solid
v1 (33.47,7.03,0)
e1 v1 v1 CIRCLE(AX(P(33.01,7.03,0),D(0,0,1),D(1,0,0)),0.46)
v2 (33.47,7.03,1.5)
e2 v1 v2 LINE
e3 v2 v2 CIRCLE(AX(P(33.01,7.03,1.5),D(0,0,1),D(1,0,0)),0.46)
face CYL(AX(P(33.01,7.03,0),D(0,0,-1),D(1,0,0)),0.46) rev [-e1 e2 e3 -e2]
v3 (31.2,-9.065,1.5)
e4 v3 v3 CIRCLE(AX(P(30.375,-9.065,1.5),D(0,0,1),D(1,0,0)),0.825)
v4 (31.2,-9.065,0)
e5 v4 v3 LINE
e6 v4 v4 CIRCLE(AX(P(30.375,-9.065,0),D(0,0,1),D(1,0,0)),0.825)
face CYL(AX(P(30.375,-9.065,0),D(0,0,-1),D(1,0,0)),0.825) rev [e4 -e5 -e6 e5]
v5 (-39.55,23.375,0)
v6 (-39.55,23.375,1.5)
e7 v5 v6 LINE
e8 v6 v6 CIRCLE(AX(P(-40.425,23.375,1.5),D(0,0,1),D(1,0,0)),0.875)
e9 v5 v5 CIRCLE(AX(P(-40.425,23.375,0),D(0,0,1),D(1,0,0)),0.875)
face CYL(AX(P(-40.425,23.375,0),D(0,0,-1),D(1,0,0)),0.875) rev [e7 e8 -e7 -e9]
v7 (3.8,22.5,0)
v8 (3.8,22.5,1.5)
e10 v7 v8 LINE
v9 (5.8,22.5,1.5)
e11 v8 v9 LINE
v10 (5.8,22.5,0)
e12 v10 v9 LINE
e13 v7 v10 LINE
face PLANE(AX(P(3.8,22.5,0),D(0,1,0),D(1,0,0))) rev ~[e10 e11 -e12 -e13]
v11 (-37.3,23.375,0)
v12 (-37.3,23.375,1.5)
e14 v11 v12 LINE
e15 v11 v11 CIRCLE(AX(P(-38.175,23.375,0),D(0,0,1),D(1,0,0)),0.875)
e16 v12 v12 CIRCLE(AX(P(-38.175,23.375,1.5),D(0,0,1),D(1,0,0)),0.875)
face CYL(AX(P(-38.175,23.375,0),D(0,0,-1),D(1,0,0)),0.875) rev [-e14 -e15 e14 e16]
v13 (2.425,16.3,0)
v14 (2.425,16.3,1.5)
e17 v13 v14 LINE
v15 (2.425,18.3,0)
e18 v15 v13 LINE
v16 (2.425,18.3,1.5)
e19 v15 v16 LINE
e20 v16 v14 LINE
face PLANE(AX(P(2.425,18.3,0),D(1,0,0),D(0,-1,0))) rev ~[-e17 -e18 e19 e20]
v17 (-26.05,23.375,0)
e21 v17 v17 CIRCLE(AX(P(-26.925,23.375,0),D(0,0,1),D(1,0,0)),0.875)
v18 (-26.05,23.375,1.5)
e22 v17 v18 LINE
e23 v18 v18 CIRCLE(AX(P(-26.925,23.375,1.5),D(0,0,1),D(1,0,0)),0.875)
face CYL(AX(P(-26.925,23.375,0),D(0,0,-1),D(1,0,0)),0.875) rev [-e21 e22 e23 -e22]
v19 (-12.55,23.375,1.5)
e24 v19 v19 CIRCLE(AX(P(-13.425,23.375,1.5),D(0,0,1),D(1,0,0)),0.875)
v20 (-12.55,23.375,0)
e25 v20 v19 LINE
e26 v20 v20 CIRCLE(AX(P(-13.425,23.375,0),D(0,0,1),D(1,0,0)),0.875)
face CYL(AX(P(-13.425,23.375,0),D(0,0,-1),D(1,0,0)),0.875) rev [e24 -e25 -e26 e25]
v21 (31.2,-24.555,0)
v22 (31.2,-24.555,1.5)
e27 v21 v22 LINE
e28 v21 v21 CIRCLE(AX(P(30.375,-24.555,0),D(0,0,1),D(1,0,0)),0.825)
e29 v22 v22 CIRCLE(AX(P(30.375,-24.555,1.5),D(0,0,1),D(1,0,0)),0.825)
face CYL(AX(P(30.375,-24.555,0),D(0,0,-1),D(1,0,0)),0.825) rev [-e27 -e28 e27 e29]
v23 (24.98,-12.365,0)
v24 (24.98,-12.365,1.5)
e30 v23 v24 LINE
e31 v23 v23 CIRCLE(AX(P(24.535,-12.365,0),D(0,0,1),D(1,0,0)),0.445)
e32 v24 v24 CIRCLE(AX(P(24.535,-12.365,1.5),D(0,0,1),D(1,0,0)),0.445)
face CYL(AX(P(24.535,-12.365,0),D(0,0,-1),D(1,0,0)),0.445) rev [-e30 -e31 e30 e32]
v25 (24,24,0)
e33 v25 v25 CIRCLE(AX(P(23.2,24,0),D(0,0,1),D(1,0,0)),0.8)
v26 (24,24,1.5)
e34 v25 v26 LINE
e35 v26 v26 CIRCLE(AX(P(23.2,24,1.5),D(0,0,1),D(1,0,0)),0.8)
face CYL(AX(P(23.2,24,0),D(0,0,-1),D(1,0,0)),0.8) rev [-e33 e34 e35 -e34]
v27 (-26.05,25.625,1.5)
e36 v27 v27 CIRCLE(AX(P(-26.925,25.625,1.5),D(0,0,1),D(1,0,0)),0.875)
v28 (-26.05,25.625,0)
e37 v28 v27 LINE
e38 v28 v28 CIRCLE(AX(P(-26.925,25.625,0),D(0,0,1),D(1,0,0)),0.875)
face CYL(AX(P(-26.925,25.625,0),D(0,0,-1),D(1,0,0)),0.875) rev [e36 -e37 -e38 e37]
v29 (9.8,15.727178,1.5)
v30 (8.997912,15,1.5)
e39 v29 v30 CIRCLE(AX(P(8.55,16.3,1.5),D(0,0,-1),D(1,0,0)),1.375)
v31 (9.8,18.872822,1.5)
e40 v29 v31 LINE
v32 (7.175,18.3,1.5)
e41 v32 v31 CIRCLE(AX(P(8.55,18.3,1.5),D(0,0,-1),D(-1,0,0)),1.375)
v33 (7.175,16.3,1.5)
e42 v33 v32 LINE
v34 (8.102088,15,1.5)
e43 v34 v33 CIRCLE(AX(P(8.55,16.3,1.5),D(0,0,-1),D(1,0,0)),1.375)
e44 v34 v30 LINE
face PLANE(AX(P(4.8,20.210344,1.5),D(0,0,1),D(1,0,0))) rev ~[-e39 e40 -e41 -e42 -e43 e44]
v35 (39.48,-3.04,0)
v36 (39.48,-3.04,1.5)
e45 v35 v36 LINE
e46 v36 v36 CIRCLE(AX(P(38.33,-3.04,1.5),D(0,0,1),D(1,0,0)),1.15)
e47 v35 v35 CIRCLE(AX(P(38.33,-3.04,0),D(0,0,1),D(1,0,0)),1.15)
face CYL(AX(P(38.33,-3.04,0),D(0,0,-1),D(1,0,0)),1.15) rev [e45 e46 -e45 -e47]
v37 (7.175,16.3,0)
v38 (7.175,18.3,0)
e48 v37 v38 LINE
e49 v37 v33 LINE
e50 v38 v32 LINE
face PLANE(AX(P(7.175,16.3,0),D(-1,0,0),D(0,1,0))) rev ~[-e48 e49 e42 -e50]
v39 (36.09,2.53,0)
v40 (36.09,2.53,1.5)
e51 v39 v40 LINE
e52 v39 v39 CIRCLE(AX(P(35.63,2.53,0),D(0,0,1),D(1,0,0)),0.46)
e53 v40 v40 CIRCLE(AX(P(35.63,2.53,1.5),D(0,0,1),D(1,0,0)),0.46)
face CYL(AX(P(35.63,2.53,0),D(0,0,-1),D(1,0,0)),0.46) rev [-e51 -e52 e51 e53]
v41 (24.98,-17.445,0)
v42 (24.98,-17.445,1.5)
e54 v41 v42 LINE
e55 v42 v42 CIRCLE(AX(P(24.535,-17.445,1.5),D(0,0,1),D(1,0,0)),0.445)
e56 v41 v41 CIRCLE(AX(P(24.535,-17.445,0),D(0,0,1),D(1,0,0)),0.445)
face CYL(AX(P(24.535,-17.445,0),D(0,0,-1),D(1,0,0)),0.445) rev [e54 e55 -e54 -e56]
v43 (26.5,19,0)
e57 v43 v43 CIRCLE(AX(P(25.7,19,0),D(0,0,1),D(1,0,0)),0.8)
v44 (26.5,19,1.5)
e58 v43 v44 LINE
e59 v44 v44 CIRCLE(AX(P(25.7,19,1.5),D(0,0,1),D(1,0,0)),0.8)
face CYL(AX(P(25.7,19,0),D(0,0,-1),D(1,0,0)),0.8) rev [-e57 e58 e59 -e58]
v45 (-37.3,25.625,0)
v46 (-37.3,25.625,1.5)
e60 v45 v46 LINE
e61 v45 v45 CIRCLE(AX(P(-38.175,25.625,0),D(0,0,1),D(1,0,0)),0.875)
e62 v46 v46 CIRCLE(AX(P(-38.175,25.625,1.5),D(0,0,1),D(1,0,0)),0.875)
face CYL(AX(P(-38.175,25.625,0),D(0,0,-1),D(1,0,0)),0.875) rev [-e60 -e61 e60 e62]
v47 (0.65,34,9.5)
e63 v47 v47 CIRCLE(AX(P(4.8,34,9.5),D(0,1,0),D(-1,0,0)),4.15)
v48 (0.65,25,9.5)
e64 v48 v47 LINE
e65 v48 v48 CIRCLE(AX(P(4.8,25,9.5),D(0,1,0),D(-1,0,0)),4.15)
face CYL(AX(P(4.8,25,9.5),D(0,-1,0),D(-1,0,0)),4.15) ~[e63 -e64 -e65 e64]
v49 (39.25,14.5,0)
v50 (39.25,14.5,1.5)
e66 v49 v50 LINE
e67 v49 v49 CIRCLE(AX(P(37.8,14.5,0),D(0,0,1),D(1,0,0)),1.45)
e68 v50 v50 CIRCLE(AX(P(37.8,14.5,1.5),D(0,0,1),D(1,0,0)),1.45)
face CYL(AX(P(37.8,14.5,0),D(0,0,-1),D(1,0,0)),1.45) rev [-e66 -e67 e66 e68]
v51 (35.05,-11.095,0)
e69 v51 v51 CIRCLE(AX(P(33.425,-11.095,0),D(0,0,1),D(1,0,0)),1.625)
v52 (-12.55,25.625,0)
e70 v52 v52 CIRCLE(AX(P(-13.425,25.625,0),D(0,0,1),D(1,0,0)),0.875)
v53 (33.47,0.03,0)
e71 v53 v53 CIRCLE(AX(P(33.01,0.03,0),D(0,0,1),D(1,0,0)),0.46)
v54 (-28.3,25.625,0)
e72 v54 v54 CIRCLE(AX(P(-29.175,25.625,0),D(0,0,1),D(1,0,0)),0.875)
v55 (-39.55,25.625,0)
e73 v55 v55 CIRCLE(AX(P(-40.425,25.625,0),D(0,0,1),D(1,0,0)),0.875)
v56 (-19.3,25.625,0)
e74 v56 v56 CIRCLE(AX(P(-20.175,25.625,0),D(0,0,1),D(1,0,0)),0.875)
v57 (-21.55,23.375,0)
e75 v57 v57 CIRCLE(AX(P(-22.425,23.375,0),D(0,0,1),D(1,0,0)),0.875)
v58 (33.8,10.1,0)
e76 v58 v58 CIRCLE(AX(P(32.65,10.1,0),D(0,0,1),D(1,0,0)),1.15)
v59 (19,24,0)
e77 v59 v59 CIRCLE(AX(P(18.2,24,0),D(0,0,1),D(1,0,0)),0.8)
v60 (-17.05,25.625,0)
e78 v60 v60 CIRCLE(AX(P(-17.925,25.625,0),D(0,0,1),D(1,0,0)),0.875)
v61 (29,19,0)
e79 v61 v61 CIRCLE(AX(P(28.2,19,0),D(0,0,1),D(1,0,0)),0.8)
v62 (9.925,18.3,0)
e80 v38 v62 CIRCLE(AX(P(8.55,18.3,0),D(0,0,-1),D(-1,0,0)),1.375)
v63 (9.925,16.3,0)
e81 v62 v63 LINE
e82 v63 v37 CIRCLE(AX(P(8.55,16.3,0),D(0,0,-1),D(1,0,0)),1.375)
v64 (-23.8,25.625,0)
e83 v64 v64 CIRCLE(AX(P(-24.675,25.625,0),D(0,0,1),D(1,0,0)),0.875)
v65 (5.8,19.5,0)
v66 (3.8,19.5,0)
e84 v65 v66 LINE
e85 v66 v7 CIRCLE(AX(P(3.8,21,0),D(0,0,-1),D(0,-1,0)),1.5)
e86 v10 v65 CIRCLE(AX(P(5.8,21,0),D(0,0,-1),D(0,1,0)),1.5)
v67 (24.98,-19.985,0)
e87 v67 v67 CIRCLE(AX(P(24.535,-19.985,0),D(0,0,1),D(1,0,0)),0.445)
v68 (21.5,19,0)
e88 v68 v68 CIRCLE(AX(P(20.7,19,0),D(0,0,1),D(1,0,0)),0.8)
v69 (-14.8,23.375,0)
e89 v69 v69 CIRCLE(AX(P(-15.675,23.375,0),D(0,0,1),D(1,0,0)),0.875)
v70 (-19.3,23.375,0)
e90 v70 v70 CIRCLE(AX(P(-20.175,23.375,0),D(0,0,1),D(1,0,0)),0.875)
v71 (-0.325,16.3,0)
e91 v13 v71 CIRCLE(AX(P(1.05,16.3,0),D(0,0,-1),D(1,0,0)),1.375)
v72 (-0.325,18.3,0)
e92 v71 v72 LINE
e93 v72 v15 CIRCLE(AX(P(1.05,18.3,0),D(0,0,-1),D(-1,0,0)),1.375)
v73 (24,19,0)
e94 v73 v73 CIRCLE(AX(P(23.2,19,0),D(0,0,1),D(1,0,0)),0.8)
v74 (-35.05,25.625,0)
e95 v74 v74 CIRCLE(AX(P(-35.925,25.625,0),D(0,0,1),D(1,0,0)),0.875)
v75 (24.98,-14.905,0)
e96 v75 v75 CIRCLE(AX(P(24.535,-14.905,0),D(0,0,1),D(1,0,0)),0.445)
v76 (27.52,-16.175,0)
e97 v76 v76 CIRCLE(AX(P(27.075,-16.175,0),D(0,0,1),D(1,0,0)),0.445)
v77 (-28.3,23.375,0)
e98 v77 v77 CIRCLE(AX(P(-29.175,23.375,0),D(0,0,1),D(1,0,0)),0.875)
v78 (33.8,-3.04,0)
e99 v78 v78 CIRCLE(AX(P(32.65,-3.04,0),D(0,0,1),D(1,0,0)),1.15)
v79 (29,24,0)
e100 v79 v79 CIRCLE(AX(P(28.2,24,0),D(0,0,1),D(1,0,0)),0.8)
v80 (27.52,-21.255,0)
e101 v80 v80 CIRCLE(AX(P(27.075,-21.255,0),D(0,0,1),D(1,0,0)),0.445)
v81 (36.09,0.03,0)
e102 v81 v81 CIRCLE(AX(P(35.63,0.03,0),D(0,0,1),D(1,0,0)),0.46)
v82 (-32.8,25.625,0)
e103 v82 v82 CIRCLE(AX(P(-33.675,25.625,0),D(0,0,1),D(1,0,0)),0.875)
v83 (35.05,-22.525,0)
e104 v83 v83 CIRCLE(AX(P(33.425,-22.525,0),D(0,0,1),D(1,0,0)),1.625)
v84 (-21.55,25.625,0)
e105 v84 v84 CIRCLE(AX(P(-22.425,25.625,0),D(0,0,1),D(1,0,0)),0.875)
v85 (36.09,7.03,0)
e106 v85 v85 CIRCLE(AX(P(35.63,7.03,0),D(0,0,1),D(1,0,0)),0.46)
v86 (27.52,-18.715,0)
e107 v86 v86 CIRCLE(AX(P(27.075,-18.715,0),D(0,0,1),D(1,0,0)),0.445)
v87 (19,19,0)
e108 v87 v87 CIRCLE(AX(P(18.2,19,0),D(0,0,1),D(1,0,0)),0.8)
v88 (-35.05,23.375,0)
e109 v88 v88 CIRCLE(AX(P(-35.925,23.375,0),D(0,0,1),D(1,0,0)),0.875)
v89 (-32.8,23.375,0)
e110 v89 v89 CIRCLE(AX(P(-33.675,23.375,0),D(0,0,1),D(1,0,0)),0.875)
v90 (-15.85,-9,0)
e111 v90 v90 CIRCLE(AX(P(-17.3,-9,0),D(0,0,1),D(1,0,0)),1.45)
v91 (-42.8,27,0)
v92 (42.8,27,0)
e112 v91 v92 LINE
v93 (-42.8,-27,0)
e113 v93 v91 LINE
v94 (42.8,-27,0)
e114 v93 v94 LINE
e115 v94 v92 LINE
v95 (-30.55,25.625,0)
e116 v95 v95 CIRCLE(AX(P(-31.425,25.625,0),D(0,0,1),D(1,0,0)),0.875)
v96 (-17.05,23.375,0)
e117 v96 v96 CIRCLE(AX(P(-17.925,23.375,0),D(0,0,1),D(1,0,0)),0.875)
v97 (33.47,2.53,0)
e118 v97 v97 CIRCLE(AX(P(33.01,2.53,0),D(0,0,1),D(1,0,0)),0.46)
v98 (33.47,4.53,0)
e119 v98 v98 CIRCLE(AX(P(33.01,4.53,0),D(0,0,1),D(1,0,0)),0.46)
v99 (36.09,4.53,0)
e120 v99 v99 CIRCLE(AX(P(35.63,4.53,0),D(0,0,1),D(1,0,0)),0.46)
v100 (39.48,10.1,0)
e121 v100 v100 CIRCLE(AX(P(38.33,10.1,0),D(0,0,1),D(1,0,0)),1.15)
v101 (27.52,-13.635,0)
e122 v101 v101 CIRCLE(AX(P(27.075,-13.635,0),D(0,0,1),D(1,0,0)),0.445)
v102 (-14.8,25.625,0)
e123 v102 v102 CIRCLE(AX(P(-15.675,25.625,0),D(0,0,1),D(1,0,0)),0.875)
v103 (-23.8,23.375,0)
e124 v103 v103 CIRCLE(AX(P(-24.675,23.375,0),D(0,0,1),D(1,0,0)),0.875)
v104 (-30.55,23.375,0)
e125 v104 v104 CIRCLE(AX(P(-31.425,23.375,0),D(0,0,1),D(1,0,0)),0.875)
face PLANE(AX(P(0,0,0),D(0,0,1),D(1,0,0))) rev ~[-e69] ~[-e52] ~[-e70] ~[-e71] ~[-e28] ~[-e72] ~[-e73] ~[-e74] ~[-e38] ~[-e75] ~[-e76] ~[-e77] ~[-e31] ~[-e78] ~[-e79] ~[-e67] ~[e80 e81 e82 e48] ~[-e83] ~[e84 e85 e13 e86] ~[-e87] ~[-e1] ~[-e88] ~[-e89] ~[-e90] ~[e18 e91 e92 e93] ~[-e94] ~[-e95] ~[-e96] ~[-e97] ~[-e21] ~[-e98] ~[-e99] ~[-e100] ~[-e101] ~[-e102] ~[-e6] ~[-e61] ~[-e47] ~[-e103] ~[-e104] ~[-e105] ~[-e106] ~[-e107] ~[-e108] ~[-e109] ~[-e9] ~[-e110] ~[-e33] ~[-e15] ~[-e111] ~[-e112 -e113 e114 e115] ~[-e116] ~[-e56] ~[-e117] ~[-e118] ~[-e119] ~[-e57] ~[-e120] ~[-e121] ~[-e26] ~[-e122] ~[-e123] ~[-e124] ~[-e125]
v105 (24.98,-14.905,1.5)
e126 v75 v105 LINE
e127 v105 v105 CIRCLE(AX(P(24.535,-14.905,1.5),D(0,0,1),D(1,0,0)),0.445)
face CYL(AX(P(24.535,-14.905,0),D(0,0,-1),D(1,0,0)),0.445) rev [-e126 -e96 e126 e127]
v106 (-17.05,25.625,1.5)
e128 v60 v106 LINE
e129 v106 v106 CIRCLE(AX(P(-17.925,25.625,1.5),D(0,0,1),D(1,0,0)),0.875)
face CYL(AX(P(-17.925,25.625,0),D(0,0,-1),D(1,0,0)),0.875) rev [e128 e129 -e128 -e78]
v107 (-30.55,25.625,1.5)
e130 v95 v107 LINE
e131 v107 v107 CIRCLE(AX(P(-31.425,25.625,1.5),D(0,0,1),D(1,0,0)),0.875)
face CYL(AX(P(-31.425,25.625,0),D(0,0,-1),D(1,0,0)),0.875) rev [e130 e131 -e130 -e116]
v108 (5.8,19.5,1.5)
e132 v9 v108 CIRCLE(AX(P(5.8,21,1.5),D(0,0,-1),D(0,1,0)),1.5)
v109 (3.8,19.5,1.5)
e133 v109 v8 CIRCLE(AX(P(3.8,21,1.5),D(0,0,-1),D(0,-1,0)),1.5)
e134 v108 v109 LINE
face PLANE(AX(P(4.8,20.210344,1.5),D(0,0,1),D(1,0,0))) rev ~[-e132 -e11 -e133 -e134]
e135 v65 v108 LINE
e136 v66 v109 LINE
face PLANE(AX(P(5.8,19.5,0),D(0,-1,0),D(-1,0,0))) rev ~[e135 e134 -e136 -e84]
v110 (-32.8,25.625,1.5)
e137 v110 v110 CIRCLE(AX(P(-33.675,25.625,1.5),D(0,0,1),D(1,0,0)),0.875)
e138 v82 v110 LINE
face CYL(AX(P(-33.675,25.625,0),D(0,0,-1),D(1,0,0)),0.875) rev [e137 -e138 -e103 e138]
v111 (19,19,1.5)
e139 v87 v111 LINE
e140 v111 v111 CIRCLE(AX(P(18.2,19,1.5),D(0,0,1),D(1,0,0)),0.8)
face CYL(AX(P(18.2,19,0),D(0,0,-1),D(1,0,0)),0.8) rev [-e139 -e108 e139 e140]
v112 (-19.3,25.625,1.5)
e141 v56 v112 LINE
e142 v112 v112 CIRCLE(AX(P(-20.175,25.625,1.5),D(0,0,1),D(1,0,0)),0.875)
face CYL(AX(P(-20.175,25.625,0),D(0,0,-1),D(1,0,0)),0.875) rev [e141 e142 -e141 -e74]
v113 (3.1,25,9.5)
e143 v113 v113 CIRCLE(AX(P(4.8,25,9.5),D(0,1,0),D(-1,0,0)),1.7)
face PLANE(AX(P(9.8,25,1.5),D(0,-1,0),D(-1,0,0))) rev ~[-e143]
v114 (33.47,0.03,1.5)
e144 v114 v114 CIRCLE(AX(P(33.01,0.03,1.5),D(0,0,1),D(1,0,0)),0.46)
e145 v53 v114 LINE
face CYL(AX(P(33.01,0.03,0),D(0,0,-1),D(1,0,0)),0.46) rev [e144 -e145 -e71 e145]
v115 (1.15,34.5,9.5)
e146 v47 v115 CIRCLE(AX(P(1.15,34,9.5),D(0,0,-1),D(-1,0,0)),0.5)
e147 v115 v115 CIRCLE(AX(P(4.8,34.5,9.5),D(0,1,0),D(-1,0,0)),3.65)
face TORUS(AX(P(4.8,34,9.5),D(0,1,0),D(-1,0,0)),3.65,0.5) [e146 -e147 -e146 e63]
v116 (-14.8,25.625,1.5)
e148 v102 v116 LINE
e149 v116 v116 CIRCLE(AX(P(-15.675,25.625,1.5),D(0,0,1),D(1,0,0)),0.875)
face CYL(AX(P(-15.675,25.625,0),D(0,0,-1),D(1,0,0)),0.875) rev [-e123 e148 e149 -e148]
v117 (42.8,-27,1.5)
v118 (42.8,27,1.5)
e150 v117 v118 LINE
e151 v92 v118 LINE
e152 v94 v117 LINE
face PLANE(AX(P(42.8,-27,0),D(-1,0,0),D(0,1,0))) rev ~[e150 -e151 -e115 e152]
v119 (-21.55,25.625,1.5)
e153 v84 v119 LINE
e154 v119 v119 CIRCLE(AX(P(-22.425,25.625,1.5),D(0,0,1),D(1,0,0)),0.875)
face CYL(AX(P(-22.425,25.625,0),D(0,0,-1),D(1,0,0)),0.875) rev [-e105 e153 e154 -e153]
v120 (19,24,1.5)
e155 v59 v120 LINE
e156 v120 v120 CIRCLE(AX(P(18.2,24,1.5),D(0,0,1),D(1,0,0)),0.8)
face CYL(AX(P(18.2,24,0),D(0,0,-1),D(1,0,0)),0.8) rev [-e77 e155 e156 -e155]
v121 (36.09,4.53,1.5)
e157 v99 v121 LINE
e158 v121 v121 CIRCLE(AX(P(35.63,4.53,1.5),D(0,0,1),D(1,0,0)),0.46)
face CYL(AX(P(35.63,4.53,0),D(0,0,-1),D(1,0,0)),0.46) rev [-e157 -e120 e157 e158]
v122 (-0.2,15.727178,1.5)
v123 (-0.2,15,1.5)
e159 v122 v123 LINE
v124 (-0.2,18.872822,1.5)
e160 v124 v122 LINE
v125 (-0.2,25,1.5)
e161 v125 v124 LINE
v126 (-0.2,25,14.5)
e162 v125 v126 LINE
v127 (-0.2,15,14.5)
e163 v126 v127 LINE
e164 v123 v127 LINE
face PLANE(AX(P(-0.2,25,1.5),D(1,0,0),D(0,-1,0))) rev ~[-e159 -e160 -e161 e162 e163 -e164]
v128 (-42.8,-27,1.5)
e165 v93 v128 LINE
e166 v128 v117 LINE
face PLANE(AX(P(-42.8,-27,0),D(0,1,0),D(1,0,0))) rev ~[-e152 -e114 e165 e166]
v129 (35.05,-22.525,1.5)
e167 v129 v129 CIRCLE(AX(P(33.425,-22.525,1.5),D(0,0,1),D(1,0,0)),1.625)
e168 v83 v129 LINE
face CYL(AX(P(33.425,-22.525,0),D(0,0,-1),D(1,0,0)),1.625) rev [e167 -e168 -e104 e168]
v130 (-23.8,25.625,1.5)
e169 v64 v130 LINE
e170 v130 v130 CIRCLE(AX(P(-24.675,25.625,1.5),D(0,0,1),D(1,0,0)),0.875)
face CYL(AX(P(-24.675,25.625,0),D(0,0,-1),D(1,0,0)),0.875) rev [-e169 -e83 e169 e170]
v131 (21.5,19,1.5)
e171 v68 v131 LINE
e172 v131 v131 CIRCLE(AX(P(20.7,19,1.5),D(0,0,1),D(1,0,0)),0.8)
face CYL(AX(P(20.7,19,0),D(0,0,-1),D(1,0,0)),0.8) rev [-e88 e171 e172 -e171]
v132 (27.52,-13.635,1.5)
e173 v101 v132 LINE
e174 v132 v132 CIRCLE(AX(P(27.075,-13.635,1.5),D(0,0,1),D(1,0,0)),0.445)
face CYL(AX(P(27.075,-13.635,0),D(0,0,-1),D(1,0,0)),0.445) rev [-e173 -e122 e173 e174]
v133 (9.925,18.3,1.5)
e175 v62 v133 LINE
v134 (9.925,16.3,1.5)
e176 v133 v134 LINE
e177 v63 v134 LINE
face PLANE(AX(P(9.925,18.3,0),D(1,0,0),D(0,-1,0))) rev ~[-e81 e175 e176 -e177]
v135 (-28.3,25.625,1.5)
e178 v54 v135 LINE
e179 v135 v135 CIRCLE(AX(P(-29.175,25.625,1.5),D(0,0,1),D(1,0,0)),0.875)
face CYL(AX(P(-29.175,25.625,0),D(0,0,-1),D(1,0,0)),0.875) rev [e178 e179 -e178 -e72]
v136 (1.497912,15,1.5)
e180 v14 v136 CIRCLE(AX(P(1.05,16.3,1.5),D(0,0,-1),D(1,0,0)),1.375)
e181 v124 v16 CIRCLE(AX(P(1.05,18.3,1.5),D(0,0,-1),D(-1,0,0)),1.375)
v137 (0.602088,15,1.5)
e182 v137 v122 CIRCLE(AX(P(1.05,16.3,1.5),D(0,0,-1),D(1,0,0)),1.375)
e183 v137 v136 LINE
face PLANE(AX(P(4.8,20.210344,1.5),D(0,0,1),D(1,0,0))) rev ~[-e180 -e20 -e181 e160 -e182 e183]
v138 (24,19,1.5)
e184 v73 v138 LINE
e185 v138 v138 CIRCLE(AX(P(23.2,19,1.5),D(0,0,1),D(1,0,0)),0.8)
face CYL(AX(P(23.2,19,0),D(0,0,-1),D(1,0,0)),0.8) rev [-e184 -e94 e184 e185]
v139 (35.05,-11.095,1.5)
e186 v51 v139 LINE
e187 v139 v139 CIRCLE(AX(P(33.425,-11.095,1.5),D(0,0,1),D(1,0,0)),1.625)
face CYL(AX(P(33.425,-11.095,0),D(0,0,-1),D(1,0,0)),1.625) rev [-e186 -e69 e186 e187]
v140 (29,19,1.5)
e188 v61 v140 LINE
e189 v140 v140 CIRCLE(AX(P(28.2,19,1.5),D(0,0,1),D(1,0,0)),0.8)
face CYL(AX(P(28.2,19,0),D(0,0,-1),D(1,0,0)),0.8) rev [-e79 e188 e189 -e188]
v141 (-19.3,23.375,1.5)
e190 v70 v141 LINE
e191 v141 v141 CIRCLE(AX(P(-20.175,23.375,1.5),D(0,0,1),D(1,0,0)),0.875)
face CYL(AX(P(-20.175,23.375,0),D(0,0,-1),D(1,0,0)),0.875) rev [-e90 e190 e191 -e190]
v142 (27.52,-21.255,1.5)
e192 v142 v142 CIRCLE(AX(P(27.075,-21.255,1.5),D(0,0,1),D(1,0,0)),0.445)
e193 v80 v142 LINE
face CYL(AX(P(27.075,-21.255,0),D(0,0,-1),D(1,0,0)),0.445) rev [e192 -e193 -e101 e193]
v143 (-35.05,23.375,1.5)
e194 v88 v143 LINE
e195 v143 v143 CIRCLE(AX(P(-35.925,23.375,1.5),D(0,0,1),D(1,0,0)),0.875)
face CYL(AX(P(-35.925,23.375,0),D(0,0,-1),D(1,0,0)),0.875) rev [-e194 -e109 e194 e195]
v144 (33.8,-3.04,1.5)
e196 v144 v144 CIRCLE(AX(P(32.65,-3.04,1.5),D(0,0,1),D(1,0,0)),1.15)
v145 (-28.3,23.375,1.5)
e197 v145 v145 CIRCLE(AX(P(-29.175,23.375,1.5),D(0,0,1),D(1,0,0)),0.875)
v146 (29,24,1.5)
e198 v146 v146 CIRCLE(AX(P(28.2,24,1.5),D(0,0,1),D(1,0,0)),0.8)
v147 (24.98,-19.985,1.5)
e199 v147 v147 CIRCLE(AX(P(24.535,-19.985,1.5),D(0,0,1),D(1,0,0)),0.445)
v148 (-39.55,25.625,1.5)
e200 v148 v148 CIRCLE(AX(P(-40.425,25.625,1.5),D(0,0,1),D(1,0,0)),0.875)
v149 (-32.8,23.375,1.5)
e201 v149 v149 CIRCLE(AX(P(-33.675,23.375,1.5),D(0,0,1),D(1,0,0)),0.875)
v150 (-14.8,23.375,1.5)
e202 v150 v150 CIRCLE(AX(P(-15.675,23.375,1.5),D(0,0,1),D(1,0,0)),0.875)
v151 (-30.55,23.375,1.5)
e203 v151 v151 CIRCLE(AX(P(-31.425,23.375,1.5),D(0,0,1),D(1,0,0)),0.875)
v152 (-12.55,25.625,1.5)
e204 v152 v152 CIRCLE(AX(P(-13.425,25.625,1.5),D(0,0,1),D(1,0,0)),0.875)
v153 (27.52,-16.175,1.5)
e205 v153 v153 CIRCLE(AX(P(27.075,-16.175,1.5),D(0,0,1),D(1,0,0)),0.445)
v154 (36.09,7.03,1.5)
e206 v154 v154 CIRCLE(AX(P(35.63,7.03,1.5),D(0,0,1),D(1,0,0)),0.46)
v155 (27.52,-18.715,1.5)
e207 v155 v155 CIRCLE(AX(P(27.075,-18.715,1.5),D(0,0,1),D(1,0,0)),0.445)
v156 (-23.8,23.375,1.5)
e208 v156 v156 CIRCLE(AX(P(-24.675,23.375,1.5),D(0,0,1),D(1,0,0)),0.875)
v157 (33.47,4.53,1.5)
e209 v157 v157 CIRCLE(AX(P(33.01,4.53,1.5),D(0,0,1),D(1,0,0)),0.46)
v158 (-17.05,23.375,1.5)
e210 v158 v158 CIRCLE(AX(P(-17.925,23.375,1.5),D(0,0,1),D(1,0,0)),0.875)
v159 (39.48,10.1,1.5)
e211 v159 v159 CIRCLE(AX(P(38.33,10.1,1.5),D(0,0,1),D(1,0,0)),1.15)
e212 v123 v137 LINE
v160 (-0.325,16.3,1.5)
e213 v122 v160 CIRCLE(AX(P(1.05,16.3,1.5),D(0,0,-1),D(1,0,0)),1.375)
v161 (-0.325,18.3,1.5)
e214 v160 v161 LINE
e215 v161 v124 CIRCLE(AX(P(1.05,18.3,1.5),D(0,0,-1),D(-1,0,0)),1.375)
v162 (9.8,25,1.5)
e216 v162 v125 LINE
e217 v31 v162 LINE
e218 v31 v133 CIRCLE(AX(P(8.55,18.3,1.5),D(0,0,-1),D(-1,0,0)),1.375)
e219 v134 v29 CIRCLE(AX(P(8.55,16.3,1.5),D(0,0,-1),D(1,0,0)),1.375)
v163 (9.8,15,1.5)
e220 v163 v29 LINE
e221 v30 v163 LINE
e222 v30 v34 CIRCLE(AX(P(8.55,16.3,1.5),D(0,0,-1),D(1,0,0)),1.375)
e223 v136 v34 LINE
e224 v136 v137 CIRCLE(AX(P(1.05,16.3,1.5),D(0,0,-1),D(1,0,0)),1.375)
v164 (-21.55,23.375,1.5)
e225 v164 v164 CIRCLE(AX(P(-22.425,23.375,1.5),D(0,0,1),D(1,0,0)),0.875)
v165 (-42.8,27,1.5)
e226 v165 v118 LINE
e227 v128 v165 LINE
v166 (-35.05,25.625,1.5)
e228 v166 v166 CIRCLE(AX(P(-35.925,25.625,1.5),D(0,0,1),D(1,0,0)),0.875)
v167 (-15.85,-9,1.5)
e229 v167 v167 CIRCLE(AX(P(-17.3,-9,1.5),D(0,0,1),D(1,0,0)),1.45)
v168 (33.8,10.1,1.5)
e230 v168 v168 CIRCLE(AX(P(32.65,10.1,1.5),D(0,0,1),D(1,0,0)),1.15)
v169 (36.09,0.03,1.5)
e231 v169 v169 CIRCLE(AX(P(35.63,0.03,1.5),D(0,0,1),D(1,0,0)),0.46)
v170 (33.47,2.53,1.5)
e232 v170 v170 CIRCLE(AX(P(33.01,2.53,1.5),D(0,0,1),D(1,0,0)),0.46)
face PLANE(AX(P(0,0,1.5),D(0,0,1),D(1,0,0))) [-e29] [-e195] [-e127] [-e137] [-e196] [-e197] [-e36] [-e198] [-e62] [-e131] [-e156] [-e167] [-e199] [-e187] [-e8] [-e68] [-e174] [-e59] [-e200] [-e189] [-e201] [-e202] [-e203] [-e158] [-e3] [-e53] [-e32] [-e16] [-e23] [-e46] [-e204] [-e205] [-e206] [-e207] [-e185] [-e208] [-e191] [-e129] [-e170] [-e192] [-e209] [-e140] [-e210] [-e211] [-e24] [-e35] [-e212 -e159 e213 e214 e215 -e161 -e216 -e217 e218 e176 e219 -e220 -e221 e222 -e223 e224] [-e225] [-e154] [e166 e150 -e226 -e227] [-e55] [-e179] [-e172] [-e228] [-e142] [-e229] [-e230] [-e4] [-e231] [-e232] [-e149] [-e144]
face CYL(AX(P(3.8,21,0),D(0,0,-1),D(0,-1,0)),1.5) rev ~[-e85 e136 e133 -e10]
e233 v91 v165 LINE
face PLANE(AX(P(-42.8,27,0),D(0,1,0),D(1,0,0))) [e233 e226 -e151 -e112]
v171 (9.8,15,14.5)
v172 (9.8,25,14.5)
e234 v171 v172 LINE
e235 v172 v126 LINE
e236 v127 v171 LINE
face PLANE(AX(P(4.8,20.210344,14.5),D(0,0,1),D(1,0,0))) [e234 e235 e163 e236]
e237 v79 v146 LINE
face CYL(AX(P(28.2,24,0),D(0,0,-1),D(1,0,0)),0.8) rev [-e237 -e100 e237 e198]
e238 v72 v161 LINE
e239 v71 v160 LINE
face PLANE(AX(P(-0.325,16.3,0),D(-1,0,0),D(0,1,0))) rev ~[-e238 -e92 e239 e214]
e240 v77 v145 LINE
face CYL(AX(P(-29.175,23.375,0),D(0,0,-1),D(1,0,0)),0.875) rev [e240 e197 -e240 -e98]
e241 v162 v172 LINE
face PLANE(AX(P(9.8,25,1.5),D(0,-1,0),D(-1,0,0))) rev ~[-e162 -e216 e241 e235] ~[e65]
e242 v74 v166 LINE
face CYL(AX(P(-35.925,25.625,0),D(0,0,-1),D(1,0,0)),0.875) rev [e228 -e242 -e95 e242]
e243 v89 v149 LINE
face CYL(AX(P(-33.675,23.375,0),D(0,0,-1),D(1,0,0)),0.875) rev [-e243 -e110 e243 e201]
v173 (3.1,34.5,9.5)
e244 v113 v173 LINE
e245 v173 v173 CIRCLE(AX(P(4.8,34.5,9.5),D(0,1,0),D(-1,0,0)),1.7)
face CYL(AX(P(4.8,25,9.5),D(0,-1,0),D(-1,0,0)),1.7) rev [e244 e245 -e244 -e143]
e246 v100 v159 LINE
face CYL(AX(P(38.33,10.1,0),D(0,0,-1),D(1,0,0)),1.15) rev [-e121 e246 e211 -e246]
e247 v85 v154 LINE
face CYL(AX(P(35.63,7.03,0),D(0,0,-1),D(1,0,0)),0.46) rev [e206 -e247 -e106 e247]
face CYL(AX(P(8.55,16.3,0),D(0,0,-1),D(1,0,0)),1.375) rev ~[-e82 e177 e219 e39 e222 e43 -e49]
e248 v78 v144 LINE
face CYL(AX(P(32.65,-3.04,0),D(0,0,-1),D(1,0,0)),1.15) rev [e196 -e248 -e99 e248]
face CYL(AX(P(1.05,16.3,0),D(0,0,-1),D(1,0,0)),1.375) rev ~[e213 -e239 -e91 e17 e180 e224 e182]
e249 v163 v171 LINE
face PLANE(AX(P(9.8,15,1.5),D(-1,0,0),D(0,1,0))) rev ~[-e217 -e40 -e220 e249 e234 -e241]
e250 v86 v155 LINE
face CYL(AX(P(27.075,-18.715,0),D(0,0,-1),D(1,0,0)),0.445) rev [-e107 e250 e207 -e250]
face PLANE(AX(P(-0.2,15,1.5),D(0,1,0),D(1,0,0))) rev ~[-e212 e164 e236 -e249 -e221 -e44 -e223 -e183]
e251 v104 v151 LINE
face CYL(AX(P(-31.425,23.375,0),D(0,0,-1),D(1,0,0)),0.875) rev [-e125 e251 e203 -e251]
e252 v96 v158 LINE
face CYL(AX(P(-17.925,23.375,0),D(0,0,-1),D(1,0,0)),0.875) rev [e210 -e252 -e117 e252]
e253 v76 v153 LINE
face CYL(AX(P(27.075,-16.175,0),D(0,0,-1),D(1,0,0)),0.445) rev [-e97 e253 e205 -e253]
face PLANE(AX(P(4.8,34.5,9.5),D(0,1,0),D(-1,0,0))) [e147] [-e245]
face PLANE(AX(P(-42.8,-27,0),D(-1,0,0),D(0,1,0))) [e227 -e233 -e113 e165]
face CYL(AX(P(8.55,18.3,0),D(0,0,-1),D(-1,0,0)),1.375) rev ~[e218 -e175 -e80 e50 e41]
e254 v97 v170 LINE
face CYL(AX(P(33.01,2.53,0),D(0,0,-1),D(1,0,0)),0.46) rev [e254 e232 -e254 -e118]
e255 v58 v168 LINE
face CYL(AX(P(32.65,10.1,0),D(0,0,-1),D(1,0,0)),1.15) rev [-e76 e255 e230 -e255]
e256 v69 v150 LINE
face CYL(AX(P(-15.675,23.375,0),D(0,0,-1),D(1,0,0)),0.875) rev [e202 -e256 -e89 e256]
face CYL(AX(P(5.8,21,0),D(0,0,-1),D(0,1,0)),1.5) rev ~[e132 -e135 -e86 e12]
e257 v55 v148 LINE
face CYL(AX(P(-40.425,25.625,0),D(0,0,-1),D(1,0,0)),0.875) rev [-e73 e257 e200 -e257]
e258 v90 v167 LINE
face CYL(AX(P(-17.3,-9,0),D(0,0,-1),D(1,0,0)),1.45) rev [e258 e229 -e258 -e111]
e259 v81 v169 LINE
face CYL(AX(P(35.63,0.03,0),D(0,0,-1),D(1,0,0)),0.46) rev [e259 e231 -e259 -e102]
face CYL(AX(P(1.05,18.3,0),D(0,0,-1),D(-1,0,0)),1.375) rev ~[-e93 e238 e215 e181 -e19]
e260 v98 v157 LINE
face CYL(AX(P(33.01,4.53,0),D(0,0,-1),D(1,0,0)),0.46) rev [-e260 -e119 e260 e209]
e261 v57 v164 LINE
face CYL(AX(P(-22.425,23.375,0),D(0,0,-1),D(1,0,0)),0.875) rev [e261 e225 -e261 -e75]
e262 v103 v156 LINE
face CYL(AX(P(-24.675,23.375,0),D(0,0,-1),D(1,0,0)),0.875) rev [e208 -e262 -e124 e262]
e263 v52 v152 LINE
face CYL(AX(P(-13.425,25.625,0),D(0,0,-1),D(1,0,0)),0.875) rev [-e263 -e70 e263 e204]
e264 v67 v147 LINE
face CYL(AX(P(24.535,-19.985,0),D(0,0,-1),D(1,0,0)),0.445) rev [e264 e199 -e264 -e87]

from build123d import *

# Parameters (mm, degrees)
F0_W     = 85.6
F0_H     = 54
F0_R     = 1.45
F0_R_2   = 0.825
F0_R_3   = 0.445
F0_R_4   = 1.625
F0_R_5   = 1.15
F0_R_6   = 0.875
F0_R_7   = 0.46
F0_R_8   = 0.8
F1_DEPTH = 1.5
F3_DEPTH = 13
F4_R     = 4.15
F4_R_2   = 1.7
F5_DEPTH = 9.5
F6_R     = 0.5


with BuildPart() as f1:
    # F0 (on Top) → F1 (new body)
    with BuildSketch(Plane.XY):
        Rectangle(F0_W, F0_H)
        with Locations((-17.3, -9)):
            Circle(F0_R, mode=Mode.SUBTRACT)
        with Locations((30.375, -24.555)):
            Circle(F0_R_2, mode=Mode.SUBTRACT)
        with Locations((27.075, -21.255)):
            Circle(F0_R_3, mode=Mode.SUBTRACT)
        with Locations((33.425, -22.525)):
            Circle(F0_R_4, mode=Mode.SUBTRACT)
        with Locations((24.535, -19.985)):
            Circle(F0_R_3, mode=Mode.SUBTRACT)
        with Locations((24.535, -17.445)):
            Circle(F0_R_3, mode=Mode.SUBTRACT)
        with Locations((27.075, -18.715)):
            Circle(F0_R_3, mode=Mode.SUBTRACT)
        with Locations((24.535, -14.905)):
            Circle(F0_R_3, mode=Mode.SUBTRACT)
        with Locations((27.075, -16.175)):
            Circle(F0_R_3, mode=Mode.SUBTRACT)
        with Locations((27.075, -13.635)):
            Circle(F0_R_3, mode=Mode.SUBTRACT)
        with Locations((24.535, -12.365)):
            Circle(F0_R_3, mode=Mode.SUBTRACT)
        with Locations((30.375, -9.065)):
            Circle(F0_R_2, mode=Mode.SUBTRACT)
        with Locations((33.425, -11.095)):
            Circle(F0_R_4, mode=Mode.SUBTRACT)
        with Locations((32.65, -3.04)):
            Circle(F0_R_5, mode=Mode.SUBTRACT)
        with Locations((38.33, -3.04)):
            Circle(F0_R_5, mode=Mode.SUBTRACT)
        with Locations((-40.425, 23.375)):
            Circle(F0_R_6, mode=Mode.SUBTRACT)
        with Locations((-38.175, 23.375)):
            Circle(F0_R_6, mode=Mode.SUBTRACT)
        with Locations((-35.925, 23.375)):
            Circle(F0_R_6, mode=Mode.SUBTRACT)
        with Locations((-33.675, 23.375)):
            Circle(F0_R_6, mode=Mode.SUBTRACT)
        with Locations((-40.425, 25.625)):
            Circle(F0_R_6, mode=Mode.SUBTRACT)
        with Locations((-38.175, 25.625)):
            Circle(F0_R_6, mode=Mode.SUBTRACT)
        with Locations((-35.925, 25.625)):
            Circle(F0_R_6, mode=Mode.SUBTRACT)
        with Locations((-33.675, 25.625)):
            Circle(F0_R_6, mode=Mode.SUBTRACT)
        with Locations((-31.425, 23.375)):
            Circle(F0_R_6, mode=Mode.SUBTRACT)
        with Locations((-29.175, 23.375)):
            Circle(F0_R_6, mode=Mode.SUBTRACT)
        with Locations((-26.925, 23.375)):
            Circle(F0_R_6, mode=Mode.SUBTRACT)
        with Locations((-24.675, 23.375)):
            Circle(F0_R_6, mode=Mode.SUBTRACT)
        with Locations((-22.425, 23.375)):
            Circle(F0_R_6, mode=Mode.SUBTRACT)
        with Locations((-31.425, 25.625)):
            Circle(F0_R_6, mode=Mode.SUBTRACT)
        with Locations((-29.175, 25.625)):
            Circle(F0_R_6, mode=Mode.SUBTRACT)
        with Locations((-26.925, 25.625)):
            Circle(F0_R_6, mode=Mode.SUBTRACT)
        with Locations((-24.675, 25.625)):
            Circle(F0_R_6, mode=Mode.SUBTRACT)
        with Locations((-22.425, 25.625)):
            Circle(F0_R_6, mode=Mode.SUBTRACT)
        with Locations((-20.175, 23.375)):
            Circle(F0_R_6, mode=Mode.SUBTRACT)
        with Locations((-17.925, 23.375)):
            Circle(F0_R_6, mode=Mode.SUBTRACT)
        with Locations((-15.675, 23.375)):
            Circle(F0_R_6, mode=Mode.SUBTRACT)
        with Locations((-13.425, 23.375)):
            Circle(F0_R_6, mode=Mode.SUBTRACT)
        with Locations((-20.175, 25.625)):
            Circle(F0_R_6, mode=Mode.SUBTRACT)
        with Locations((-17.925, 25.625)):
            Circle(F0_R_6, mode=Mode.SUBTRACT)
        with Locations((-15.675, 25.625)):
            Circle(F0_R_6, mode=Mode.SUBTRACT)
        with Locations((-13.425, 25.625)):
            Circle(F0_R_6, mode=Mode.SUBTRACT)
        with Locations((33.01, 0.03)):
            Circle(F0_R_7, mode=Mode.SUBTRACT)
        with Locations((35.63, 0.03)):
            Circle(F0_R_7, mode=Mode.SUBTRACT)
        with Locations((33.01, 2.53)):
            Circle(F0_R_7, mode=Mode.SUBTRACT)
        with Locations((35.63, 2.53)):
            Circle(F0_R_7, mode=Mode.SUBTRACT)
        with Locations((33.01, 4.53)):
            Circle(F0_R_7, mode=Mode.SUBTRACT)
        with Locations((35.63, 4.53)):
            Circle(F0_R_7, mode=Mode.SUBTRACT)
        with Locations((33.01, 7.03)):
            Circle(F0_R_7, mode=Mode.SUBTRACT)
        with Locations((35.63, 7.03)):
            Circle(F0_R_7, mode=Mode.SUBTRACT)
        with Locations((32.65, 10.1)):
            Circle(F0_R_5, mode=Mode.SUBTRACT)
        with Locations((38.33, 10.1)):
            Circle(F0_R_5, mode=Mode.SUBTRACT)
        with BuildLine():
            Line((2.425, 18.3), (2.425, 16.3))
            ThreePointArc((2.425, 16.3), (1.05, 14.925), (-0.325, 16.3))
            Line((-0.325, 16.3), (-0.325, 18.3))
            ThreePointArc((-0.325, 18.3), (1.05, 19.675), (2.425, 18.3))
        make_face(mode=Mode.SUBTRACT)
        with BuildLine():
            ThreePointArc((7.175, 18.3), (8.55, 19.675), (9.925, 18.3))
            Line((9.925, 18.3), (9.925, 16.3))
            ThreePointArc((9.925, 16.3), (8.55, 14.925), (7.175, 16.3))
            Line((7.175, 16.3), (7.175, 18.3))
        make_face(mode=Mode.SUBTRACT)
        with Locations((18.2, 19)):
            Circle(F0_R_8, mode=Mode.SUBTRACT)
        with Locations((20.7, 19)):
            Circle(F0_R_8, mode=Mode.SUBTRACT)
        with BuildLine():
            Line((3.8, 22.5), (5.8, 22.5))
            ThreePointArc((5.8, 22.5), (7.3, 21), (5.8, 19.5))
            Line((5.8, 19.5), (3.8, 19.5))
            ThreePointArc((3.8, 19.5), (2.3, 21), (3.8, 22.5))
        make_face(mode=Mode.SUBTRACT)
        with Locations((18.2, 24)):
            Circle(F0_R_8, mode=Mode.SUBTRACT)
        with Locations((23.2, 19)):
            Circle(F0_R_8, mode=Mode.SUBTRACT)
        with Locations((25.7, 19)):
            Circle(F0_R_8, mode=Mode.SUBTRACT)
        with Locations((28.2, 19)):
            Circle(F0_R_8, mode=Mode.SUBTRACT)
        with Locations((37.8, 14.5)):
            Circle(F0_R, mode=Mode.SUBTRACT)
        with Locations((23.2, 24)):
            Circle(F0_R_8, mode=Mode.SUBTRACT)
        with Locations((28.2, 24)):
            Circle(F0_R_8, mode=Mode.SUBTRACT)
    extrude(amount=F1_DEPTH)

    # F2 (on face) → F3 (join)
    with BuildSketch(Plane.XY.offset(1.5)):
        with BuildLine():
            ThreePointArc((2.425, 16.3), (2.1694873279, 15.5016434865), (1.4979118217, 15))
            Line((1.4979118217, 15), (8.1020881783, 15))
            ThreePointArc((8.1020881783, 15), (7.4305126721, 15.5016434865), (7.175, 16.3))
            Line((7.175, 16.3), (7.175, 18.3))
            ThreePointArc((7.175, 18.3), (8.256849015, 19.6433865788), (9.8, 18.8728219619))
            Line((9.8, 18.8728219619), (9.8, 25))
            Line((9.8, 25), (-0.2, 25))
            Line((-0.2, 25), (-0.2, 18.8728219619))
            ThreePointArc((-0.2, 18.8728219619), (1.343150985, 19.6433865788), (2.425, 18.3))
            Line((2.425, 18.3), (2.425, 16.3))
        make_face()
        with BuildLine():
            ThreePointArc((3.8, 19.5), (2.3, 21), (3.8, 22.5))
            Line((3.8, 22.5), (5.8, 22.5))
            ThreePointArc((5.8, 22.5), (7.3, 21), (5.8, 19.5))
            Line((5.8, 19.5), (3.8, 19.5))
        make_face(mode=Mode.SUBTRACT)
        with BuildLine():
            Line((5.8, 22.5), (3.8, 22.5))
            ThreePointArc((3.8, 22.5), (2.3, 21), (3.8, 19.5))
            Line((3.8, 19.5), (5.8, 19.5))
            ThreePointArc((5.8, 19.5), (7.3, 21), (5.8, 22.5))
        make_face()
        with BuildLine():
            ThreePointArc((7.175, 16.3), (7.4305126721, 15.5016434865), (8.1020881783, 15))
            Line((8.1020881783, 15), (8.9979118217, 15))
            ThreePointArc((8.9979118217, 15), (9.4735383659, 15.2813234632), (9.8, 15.7271780381))
            Line((9.8, 15.7271780381), (9.8, 18.8728219619))
            ThreePointArc((9.8, 18.8728219619), (8.256849015, 19.6433865788), (7.175, 18.3))
            Line((7.175, 18.3), (7.175, 16.3))
        make_face()
        with BuildLine():
            ThreePointArc((-0.2, 15.7271780381), (0.1264616341, 15.2813234632), (0.6020881783, 15))
            Line((0.6020881783, 15), (1.4979118217, 15))
            ThreePointArc((1.4979118217, 15), (2.1694873279, 15.5016434865), (2.425, 16.3))
            Line((2.425, 16.3), (2.425, 18.3))
            ThreePointArc((2.425, 18.3), (1.343150985, 19.6433865788), (-0.2, 18.8728219619))
            Line((-0.2, 18.8728219619), (-0.2, 15.7271780381))
        make_face()
        with BuildLine():
            Line((-0.2, 15.7271780381), (-0.2, 15))
            Line((-0.2, 15), (0.6020881783, 15))
            ThreePointArc((0.6020881783, 15), (0.1264616341, 15.2813234632), (-0.2, 15.7271780381))
        make_face()
        with BuildLine():
            ThreePointArc((9.8, 15.7271780381), (9.4735383659, 15.2813234632), (8.9979118217, 15))
            Line((8.9979118217, 15), (9.8, 15))
            Line((9.8, 15), (9.8, 15.7271780381))
        make_face()
    extrude(amount=F3_DEPTH)

    # F4 (on face) → F5 (join)
    with BuildSketch(Plane(origin=(0, 25, 0), x_dir=(-1, 0, 0), z_dir=(0, 1, 0))):
        with Locations((-4.8, 9.5)):
            Circle(F4_R)
        with Locations((-4.8, 9.5)):
            Circle(F4_R_2, mode=Mode.SUBTRACT)
    extrude(amount=F5_DEPTH)

    # F6
    f6_edges = [f1.edges().sort_by_distance(p)[0] for p in [
        (8.95, 34.5, 9.5),
    ]]
    fillet(f6_edges, radius=F6_R)


solid = f1.part
